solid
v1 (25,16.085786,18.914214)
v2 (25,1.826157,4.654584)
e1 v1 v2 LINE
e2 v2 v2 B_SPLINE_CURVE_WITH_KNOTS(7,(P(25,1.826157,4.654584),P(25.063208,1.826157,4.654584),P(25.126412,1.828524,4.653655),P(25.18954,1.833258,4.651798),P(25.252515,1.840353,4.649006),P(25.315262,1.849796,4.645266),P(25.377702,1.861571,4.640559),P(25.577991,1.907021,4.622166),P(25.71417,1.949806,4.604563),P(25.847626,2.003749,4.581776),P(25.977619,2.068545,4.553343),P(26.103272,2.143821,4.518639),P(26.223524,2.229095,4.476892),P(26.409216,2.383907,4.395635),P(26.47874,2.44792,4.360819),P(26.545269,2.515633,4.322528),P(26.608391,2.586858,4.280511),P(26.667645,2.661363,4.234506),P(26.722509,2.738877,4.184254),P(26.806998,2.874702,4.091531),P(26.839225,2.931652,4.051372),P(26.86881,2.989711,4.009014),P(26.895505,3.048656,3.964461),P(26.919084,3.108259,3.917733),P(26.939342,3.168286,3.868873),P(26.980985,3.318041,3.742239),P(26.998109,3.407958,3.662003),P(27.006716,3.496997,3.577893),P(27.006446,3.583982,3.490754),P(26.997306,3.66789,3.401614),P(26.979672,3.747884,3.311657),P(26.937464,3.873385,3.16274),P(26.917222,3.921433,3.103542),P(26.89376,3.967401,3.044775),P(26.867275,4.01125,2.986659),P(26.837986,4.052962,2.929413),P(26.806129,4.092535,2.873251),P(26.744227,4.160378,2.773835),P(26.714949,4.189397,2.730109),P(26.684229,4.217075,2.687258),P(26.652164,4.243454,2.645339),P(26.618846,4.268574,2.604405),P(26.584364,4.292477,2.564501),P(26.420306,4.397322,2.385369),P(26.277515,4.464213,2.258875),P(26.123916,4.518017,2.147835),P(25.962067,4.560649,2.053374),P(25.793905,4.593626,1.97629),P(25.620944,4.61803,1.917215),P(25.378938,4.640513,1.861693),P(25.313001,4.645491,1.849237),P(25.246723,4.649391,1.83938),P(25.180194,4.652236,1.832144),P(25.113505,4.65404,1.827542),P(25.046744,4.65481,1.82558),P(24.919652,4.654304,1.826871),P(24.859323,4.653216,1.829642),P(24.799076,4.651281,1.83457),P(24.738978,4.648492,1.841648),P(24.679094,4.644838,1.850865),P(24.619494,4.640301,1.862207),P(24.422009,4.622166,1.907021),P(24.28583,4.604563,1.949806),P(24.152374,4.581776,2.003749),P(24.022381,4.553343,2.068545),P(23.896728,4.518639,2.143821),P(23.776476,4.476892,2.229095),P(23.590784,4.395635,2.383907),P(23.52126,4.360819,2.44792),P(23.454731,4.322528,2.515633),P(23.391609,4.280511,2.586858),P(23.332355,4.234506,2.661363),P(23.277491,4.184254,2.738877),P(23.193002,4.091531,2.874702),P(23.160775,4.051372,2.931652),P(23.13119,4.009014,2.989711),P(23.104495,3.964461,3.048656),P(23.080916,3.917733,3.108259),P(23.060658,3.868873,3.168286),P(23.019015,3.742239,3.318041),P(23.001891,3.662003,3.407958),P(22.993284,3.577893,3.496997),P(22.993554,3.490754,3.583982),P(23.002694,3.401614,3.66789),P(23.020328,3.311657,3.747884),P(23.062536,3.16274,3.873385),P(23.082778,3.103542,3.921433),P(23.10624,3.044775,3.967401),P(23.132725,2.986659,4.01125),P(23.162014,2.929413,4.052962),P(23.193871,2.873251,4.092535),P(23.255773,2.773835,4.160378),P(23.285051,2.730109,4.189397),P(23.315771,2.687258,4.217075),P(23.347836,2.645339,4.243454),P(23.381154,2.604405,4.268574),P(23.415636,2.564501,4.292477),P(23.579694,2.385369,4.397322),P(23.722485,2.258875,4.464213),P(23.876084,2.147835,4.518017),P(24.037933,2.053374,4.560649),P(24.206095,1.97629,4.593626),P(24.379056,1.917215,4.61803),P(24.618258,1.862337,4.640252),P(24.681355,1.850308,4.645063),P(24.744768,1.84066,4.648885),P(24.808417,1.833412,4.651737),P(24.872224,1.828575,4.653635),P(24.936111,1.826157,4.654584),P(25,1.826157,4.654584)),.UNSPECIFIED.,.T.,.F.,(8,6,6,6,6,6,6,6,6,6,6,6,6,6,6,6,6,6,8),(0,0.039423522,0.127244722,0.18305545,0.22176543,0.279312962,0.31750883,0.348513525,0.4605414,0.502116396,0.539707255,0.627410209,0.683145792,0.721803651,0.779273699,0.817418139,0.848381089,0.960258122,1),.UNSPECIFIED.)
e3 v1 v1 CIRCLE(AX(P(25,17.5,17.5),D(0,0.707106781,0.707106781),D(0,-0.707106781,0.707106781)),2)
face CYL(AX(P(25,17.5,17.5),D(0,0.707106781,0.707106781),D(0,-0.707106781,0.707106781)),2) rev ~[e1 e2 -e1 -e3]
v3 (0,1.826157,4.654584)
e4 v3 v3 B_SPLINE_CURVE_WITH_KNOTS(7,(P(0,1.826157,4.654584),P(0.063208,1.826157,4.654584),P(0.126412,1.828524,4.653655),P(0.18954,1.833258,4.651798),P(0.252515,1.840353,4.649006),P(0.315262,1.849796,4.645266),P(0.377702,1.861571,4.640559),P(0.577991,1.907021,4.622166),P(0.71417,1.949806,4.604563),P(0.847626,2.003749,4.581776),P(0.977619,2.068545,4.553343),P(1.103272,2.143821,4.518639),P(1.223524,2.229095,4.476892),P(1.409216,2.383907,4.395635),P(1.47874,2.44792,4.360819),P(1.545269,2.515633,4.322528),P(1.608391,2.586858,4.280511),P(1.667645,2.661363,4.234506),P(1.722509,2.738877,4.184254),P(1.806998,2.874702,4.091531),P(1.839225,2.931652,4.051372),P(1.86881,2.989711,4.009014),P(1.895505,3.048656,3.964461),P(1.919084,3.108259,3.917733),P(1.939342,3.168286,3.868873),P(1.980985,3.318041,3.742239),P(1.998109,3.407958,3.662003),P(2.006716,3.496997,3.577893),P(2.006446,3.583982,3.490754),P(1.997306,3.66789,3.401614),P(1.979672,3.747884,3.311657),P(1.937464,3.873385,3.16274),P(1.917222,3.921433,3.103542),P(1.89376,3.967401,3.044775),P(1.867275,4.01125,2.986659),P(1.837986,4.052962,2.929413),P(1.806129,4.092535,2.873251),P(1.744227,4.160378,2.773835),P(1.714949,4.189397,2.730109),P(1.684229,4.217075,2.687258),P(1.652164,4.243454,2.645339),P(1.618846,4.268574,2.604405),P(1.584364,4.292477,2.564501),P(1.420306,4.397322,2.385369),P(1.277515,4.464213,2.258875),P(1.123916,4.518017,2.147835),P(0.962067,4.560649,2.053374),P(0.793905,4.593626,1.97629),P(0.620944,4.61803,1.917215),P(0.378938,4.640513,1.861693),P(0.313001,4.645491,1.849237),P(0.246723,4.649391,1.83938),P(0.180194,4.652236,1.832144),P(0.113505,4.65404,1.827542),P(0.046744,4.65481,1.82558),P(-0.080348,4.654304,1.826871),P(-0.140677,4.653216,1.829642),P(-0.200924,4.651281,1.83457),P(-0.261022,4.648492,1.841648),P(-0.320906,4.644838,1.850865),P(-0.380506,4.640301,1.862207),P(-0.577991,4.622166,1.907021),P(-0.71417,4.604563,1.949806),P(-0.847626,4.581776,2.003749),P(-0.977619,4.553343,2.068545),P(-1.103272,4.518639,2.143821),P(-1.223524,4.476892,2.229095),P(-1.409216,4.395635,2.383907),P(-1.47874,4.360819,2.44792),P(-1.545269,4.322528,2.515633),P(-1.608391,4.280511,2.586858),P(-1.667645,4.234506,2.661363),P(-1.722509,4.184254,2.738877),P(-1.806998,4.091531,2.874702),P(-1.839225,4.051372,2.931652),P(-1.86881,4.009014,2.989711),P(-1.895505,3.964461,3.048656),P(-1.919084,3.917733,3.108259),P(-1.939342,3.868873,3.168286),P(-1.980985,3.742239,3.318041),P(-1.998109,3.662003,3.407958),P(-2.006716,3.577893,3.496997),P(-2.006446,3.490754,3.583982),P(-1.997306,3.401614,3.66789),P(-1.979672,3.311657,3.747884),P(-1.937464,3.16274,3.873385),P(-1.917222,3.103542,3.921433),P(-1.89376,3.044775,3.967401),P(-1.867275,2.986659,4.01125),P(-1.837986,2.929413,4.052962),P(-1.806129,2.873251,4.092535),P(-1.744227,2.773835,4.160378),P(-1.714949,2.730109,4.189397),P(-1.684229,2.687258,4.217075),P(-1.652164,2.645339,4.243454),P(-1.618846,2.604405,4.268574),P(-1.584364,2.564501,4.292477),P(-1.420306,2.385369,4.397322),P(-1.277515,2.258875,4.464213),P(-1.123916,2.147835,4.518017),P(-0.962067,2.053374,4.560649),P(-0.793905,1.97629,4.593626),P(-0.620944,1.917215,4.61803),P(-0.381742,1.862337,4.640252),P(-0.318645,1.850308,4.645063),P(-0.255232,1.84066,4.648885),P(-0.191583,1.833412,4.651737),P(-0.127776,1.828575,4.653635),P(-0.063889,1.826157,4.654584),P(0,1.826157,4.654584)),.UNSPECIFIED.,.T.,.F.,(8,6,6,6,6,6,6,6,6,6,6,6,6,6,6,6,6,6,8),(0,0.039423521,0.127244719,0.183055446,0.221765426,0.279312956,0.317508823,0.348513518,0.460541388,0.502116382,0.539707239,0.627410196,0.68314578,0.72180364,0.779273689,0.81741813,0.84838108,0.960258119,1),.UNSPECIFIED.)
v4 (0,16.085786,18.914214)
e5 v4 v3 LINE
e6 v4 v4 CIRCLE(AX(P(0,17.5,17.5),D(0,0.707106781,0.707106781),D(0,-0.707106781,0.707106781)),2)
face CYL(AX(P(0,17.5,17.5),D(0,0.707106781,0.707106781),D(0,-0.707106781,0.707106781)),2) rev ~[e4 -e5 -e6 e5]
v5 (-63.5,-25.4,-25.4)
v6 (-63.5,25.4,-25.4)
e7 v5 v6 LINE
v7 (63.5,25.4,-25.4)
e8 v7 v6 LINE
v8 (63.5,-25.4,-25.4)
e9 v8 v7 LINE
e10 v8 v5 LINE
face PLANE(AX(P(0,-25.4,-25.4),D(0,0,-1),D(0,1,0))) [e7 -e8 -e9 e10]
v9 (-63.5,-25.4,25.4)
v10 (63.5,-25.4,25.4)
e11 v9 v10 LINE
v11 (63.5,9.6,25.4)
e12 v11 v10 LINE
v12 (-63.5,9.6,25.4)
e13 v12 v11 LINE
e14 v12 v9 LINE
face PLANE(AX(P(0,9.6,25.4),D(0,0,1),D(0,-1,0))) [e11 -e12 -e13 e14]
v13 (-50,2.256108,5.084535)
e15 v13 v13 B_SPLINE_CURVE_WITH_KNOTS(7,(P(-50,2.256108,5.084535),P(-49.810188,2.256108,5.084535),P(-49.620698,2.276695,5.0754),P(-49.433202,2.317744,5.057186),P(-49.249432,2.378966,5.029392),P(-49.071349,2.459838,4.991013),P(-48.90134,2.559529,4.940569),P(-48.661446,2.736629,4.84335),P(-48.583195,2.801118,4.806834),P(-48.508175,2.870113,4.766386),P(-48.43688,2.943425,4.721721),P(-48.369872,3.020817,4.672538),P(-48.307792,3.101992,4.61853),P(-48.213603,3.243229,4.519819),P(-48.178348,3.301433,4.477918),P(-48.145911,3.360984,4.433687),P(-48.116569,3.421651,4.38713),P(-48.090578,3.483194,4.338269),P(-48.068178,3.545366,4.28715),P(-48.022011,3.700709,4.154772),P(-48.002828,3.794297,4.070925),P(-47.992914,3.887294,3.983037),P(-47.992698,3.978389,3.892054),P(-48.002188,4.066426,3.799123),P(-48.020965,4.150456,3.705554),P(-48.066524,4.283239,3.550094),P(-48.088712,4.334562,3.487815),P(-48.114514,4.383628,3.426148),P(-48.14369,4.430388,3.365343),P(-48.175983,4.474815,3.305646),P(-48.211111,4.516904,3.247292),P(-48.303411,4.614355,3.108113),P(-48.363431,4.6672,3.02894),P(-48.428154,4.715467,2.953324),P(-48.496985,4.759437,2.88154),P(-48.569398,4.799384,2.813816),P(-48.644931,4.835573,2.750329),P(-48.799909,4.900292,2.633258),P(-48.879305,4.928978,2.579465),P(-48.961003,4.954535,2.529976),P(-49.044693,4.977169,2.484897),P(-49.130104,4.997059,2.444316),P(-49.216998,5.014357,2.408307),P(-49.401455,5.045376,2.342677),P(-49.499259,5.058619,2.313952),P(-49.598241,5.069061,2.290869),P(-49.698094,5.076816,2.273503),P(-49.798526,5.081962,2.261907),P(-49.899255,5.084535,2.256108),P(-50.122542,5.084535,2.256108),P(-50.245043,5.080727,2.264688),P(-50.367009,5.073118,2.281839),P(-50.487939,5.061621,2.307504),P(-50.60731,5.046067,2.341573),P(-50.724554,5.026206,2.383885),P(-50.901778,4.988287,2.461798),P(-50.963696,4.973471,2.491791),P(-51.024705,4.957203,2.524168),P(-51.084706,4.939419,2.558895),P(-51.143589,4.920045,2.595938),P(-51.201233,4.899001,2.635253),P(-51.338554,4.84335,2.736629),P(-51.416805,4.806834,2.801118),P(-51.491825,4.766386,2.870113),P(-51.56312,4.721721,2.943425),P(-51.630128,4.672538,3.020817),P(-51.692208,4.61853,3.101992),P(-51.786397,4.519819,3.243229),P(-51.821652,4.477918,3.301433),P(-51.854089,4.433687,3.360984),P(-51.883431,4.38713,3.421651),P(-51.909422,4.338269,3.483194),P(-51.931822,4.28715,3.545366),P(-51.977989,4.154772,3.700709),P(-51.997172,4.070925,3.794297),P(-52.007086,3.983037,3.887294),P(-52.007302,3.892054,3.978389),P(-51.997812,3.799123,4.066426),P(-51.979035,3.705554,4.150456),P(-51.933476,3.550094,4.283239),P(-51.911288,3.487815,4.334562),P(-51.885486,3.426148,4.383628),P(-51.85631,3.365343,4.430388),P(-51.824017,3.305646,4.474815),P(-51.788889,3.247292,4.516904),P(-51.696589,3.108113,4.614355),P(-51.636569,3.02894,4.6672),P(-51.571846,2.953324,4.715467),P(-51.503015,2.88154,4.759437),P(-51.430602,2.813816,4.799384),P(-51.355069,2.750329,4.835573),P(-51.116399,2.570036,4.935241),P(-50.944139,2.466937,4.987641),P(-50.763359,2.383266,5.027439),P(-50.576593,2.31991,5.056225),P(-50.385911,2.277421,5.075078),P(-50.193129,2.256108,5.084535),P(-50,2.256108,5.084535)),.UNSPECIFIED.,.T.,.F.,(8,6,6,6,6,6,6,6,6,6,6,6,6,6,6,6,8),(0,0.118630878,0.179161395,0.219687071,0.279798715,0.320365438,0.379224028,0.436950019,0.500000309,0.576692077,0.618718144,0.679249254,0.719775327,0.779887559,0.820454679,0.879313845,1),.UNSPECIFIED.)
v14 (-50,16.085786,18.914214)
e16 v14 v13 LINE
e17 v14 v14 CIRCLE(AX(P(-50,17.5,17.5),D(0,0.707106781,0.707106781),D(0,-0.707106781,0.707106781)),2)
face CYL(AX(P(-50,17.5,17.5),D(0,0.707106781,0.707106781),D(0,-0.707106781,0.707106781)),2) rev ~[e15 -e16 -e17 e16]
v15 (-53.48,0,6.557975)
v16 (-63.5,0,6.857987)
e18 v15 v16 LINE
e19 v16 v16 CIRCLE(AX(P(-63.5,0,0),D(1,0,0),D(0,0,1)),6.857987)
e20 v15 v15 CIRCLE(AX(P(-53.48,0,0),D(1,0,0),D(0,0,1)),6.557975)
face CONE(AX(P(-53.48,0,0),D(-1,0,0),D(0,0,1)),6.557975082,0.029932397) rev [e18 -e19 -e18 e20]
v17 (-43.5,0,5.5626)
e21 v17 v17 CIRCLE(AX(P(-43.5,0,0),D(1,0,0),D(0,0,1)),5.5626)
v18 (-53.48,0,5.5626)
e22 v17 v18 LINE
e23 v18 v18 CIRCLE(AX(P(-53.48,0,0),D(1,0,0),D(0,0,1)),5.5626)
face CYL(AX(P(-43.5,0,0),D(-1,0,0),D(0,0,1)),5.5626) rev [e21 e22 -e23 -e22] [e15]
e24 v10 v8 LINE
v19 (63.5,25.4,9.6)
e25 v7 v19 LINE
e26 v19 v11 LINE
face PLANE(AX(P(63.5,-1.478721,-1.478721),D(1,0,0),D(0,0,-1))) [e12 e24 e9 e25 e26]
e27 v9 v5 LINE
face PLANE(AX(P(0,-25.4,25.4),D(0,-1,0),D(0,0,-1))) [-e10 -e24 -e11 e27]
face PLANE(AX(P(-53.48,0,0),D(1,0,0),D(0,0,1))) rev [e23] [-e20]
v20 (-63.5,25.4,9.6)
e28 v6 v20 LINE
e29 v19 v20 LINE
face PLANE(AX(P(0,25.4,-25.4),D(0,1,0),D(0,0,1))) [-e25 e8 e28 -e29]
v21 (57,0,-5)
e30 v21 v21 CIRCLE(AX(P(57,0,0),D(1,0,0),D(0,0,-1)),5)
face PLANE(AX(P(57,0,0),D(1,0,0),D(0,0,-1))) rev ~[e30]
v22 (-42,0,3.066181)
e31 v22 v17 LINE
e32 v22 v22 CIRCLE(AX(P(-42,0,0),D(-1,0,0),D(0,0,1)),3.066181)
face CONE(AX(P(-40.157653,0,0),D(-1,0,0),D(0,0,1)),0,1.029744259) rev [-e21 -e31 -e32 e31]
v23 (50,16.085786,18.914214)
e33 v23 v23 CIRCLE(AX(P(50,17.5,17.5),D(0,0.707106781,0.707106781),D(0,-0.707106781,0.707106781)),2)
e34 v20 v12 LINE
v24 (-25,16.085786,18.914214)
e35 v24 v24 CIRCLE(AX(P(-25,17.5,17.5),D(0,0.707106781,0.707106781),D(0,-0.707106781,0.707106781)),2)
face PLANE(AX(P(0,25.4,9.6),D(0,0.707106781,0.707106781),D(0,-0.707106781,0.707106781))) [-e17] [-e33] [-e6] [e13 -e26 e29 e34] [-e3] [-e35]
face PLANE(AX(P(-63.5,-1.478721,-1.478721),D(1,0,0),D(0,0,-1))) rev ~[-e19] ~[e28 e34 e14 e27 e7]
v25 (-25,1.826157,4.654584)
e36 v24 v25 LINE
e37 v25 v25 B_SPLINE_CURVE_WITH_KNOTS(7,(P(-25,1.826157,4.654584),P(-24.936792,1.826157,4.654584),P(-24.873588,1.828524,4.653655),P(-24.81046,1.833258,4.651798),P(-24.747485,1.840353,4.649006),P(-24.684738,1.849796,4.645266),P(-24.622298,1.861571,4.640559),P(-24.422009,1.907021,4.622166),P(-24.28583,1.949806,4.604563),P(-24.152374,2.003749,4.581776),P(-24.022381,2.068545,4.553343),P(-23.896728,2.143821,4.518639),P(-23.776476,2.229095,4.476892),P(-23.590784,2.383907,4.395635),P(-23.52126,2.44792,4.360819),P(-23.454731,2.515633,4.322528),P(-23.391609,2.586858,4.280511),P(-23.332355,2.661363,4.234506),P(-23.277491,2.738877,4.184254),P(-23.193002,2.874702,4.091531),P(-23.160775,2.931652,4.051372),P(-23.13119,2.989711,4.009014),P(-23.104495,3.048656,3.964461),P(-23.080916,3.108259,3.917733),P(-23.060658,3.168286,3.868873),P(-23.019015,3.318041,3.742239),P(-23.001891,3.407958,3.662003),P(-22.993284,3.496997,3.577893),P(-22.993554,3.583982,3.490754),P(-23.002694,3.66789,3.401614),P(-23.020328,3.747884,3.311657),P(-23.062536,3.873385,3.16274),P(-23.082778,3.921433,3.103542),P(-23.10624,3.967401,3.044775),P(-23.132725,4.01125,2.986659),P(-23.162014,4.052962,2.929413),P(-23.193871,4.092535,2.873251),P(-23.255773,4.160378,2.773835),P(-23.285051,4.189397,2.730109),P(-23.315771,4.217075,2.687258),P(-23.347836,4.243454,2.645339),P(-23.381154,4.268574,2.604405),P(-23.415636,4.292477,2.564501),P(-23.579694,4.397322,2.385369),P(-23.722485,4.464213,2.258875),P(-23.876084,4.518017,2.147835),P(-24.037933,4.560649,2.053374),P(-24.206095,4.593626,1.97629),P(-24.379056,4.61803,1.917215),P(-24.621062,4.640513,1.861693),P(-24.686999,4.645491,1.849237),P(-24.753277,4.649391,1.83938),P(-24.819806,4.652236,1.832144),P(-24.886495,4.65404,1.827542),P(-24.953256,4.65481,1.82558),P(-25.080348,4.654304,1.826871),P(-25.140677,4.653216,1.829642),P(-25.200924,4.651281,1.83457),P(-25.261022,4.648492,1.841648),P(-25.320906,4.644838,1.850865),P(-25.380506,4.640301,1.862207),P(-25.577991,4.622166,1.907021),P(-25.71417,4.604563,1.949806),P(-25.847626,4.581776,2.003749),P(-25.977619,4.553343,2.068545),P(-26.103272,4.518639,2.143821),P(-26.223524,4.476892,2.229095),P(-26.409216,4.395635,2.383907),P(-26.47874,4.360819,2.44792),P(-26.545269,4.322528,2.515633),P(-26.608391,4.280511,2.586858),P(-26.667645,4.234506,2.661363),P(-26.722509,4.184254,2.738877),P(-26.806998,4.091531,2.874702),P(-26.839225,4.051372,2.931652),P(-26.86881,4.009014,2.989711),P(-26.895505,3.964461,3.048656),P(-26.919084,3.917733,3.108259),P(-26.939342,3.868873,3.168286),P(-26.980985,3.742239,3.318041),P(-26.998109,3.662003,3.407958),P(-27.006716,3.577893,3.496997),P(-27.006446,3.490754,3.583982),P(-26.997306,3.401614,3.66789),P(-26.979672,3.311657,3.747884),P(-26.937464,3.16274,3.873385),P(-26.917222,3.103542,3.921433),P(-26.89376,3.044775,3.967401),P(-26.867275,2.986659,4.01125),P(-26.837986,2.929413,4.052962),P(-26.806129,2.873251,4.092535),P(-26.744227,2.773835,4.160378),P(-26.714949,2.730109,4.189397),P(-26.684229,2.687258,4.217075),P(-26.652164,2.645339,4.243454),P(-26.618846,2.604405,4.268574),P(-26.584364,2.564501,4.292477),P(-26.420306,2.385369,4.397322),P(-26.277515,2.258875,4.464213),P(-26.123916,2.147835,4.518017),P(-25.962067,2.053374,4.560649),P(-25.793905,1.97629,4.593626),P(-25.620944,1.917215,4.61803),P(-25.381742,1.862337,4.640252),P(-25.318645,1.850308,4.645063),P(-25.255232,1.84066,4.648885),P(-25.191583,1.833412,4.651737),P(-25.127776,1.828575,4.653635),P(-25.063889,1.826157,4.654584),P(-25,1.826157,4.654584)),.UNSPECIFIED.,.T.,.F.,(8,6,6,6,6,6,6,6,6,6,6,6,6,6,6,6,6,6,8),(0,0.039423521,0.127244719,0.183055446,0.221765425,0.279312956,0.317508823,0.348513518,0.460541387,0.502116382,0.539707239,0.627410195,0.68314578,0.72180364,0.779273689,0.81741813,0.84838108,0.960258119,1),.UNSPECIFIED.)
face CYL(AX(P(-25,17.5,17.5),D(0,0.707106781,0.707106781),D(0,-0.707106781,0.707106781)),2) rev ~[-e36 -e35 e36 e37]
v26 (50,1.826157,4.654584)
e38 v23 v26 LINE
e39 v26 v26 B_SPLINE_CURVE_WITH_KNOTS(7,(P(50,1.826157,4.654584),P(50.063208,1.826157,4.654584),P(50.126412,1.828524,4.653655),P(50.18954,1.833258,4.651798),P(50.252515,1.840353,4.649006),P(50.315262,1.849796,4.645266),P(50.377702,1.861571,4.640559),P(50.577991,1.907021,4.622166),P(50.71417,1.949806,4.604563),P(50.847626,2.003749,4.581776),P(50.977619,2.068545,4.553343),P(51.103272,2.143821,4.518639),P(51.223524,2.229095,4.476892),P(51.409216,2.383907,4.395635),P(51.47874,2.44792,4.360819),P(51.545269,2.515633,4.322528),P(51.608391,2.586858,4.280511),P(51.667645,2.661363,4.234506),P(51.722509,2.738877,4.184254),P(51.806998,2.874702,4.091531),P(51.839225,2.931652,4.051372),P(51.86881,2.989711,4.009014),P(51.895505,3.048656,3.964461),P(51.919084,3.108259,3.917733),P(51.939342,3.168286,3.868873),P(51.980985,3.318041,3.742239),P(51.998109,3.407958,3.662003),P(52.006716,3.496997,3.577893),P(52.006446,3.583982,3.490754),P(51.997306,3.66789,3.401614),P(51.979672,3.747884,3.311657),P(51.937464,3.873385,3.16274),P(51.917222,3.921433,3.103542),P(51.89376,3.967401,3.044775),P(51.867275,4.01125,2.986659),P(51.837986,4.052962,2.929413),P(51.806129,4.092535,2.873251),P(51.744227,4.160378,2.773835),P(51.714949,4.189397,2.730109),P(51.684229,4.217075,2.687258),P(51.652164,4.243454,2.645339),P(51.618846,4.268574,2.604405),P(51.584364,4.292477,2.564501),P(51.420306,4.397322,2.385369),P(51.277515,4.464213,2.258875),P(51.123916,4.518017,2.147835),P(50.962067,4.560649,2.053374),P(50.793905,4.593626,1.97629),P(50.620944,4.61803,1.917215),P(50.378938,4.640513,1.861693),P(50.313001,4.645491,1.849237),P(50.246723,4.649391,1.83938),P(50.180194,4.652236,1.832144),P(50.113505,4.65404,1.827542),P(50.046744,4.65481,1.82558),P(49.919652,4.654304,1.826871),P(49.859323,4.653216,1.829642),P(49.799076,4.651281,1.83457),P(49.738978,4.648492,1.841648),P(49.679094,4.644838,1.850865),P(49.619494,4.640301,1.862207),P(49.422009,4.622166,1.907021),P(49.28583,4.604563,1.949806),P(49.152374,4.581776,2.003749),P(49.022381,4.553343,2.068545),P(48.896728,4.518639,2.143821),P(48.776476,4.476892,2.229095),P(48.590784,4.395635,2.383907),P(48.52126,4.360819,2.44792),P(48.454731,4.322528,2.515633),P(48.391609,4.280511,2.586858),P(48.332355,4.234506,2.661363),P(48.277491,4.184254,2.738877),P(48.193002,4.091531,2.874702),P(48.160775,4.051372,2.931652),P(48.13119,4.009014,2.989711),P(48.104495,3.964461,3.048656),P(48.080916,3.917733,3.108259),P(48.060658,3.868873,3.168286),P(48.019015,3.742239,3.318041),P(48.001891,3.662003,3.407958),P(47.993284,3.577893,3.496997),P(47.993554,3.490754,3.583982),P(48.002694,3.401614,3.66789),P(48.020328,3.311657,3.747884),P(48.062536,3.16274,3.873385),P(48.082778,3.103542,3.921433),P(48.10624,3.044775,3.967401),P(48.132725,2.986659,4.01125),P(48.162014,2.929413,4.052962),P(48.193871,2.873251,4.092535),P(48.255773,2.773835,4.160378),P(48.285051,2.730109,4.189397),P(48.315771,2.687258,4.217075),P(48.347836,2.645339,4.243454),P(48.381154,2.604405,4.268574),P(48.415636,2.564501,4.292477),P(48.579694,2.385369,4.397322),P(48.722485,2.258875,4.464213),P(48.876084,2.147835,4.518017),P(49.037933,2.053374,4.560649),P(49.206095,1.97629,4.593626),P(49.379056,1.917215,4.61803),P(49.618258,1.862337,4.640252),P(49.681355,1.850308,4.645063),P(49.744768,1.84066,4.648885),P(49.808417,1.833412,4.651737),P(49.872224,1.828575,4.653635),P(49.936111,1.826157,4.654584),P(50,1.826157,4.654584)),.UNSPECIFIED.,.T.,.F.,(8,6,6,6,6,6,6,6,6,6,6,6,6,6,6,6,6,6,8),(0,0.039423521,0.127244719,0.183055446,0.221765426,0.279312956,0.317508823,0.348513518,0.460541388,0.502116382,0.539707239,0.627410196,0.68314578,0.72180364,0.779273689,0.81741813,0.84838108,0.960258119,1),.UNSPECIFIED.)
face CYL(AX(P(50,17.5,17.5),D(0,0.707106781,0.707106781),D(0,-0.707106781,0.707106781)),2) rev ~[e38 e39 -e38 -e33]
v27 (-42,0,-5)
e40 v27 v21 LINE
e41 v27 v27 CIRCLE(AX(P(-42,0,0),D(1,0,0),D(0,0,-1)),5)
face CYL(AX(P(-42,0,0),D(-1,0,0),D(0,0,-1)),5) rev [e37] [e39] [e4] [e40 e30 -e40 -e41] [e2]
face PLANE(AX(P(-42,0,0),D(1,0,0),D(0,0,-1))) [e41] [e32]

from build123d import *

# Parameters (mm, degrees)
SALIENTE_EXTRUIR1_DEPTH    = 63.5
CORTAR_EXTRUIR1_DEPTH      = 57
CORTAR_EXTRUIR1_DEPTH_BACK = 42
CROQUIS6_R                 = 5
CORTAR_EXTRUIR2_REACH      = 89.824
CORTAR_EXTRUIR2_END_RADIUS = 5
CROQUIS7_R                 = 2


with BuildPart() as part:
    # Croquis1 → Saliente-Extruir1 (new, symmetric)
    with BuildSketch(Plane(origin=(0, 0, 0), x_dir=(0, 0, -1), z_dir=(1, 0, 0))):
        Polygon((-9.6, 25.4), (-25.4, 9.6), (-25.4, -25.4), (25.4, -25.4), (25.4, 25.4), align=None)
    extrude(amount=SALIENTE_EXTRUIR1_DEPTH, both=True)

    # Croquis5 → Taladro roscado 1/4 NPT2 (revolve, cut)
    with BuildSketch(Plane(origin=(-63.5, 0, 0), x_dir=(0, 0, 1), z_dir=(0, 1, 0))):
        Polygon((0, 0), (0, 23.342347279), (5.5626, 20), (5.5626, 10.02), (6.557975082, 10.02), (6.8579873, 0), align=None)
    revolve(axis=Axis((-69.85, 0, 0), (1, 0, 0)), mode=Mode.SUBTRACT)

    # Croquis6 → Cortar-Extruir1 (cut, two sides: drawn at the far end of the back side and taken through both)
    with BuildSketch(Plane(origin=(0, 0, 0), x_dir=(0, 0, -1), z_dir=(1, 0, 0)).offset(-CORTAR_EXTRUIR1_DEPTH_BACK)):
        Circle(CROQUIS6_R)
    extrude(amount=CORTAR_EXTRUIR1_DEPTH + CORTAR_EXTRUIR1_DEPTH_BACK, mode=Mode.SUBTRACT)

    # Cortar-Extruir2: up to this cylinder (the profile starts outside it)
    cortar_extruir2_end = Plane(origin=(0, 0, 0), z_dir=(-1, 0, 0)) * Cylinder(CORTAR_EXTRUIR2_END_RADIUS, 290.648, mode=Mode.PRIVATE)
    # Croquis7 → Cortar-Extruir2 (cut, up to the surface)
    with BuildSketch(Plane(origin=(0, 17.5, 17.5), x_dir=(1, 0, 0), z_dir=(0, 0.7071067811865479, 0.7071067811865472)), mode=Mode.PRIVATE) as cortar_extruir2_sk1:
        with Locations(Location((0, 0, 0), (0, 0, 270))):
            Circle(CROQUIS7_R)
    cortar_extruir2_tool1 = extrude(cortar_extruir2_sk1.sketch, amount=-CORTAR_EXTRUIR2_REACH, mode=Mode.PRIVATE) - cortar_extruir2_end
    add(cortar_extruir2_tool1.solids().sort_by_distance((0, 17.5, 17.5))[0], mode=Mode.SUBTRACT)
    # Croquis7 → Cortar-Extruir2 (cut, up to the surface)
    with BuildSketch(Plane(origin=(0, 17.5, 17.5), x_dir=(1, 0, 0), z_dir=(0, 0.7071067811865479, 0.7071067811865472)), mode=Mode.PRIVATE) as cortar_extruir2_sk2:
        with Locations(Location((25, 0, 0), (0, 0, 270))):
            Circle(CROQUIS7_R)
    cortar_extruir2_tool2 = extrude(cortar_extruir2_sk2.sketch, amount=-CORTAR_EXTRUIR2_REACH, mode=Mode.PRIVATE) - cortar_extruir2_end
    add(cortar_extruir2_tool2.solids().sort_by_distance((25, 17.5, 17.5))[0], mode=Mode.SUBTRACT)
    # Croquis7 → Cortar-Extruir2 (cut, up to the surface)
    with BuildSketch(Plane(origin=(0, 17.5, 17.5), x_dir=(1, 0, 0), z_dir=(0, 0.7071067811865479, 0.7071067811865472)), mode=Mode.PRIVATE) as cortar_extruir2_sk3:
        with Locations(Location((50, 0, 0), (0, 0, 270))):
            Circle(CROQUIS7_R)
    cortar_extruir2_tool3 = extrude(cortar_extruir2_sk3.sketch, amount=-CORTAR_EXTRUIR2_REACH, mode=Mode.PRIVATE) - cortar_extruir2_end
    add(cortar_extruir2_tool3.solids().sort_by_distance((50, 17.5, 17.5))[0], mode=Mode.SUBTRACT)
    # Croquis7 → Cortar-Extruir2 (cut, up to the surface)
    with BuildSketch(Plane(origin=(0, 17.5, 17.5), x_dir=(1, 0, 0), z_dir=(0, 0.7071067811865479, 0.7071067811865472)), mode=Mode.PRIVATE) as cortar_extruir2_sk4:
        with Locations(Location((-50, 0, 0), (0, 0, 270))):
            Circle(CROQUIS7_R)
    cortar_extruir2_tool4 = extrude(cortar_extruir2_sk4.sketch, amount=-CORTAR_EXTRUIR2_REACH, mode=Mode.PRIVATE) - cortar_extruir2_end
    add(cortar_extruir2_tool4.solids().sort_by_distance((-50, 17.5, 17.5))[0], mode=Mode.SUBTRACT)
    # Croquis7 → Cortar-Extruir2 (cut, up to the surface)
    with BuildSketch(Plane(origin=(0, 17.5, 17.5), x_dir=(1, 0, 0), z_dir=(0, 0.7071067811865479, 0.7071067811865472)), mode=Mode.PRIVATE) as cortar_extruir2_sk5:
        with Locations(Location((-25, 0, 0), (0, 0, 270))):
            Circle(CROQUIS7_R)
    cortar_extruir2_tool5 = extrude(cortar_extruir2_sk5.sketch, amount=-CORTAR_EXTRUIR2_REACH, mode=Mode.PRIVATE) - cortar_extruir2_end
    add(cortar_extruir2_tool5.solids().sort_by_distance((-25, 17.5, 17.5))[0], mode=Mode.SUBTRACT)


solid = part.part
